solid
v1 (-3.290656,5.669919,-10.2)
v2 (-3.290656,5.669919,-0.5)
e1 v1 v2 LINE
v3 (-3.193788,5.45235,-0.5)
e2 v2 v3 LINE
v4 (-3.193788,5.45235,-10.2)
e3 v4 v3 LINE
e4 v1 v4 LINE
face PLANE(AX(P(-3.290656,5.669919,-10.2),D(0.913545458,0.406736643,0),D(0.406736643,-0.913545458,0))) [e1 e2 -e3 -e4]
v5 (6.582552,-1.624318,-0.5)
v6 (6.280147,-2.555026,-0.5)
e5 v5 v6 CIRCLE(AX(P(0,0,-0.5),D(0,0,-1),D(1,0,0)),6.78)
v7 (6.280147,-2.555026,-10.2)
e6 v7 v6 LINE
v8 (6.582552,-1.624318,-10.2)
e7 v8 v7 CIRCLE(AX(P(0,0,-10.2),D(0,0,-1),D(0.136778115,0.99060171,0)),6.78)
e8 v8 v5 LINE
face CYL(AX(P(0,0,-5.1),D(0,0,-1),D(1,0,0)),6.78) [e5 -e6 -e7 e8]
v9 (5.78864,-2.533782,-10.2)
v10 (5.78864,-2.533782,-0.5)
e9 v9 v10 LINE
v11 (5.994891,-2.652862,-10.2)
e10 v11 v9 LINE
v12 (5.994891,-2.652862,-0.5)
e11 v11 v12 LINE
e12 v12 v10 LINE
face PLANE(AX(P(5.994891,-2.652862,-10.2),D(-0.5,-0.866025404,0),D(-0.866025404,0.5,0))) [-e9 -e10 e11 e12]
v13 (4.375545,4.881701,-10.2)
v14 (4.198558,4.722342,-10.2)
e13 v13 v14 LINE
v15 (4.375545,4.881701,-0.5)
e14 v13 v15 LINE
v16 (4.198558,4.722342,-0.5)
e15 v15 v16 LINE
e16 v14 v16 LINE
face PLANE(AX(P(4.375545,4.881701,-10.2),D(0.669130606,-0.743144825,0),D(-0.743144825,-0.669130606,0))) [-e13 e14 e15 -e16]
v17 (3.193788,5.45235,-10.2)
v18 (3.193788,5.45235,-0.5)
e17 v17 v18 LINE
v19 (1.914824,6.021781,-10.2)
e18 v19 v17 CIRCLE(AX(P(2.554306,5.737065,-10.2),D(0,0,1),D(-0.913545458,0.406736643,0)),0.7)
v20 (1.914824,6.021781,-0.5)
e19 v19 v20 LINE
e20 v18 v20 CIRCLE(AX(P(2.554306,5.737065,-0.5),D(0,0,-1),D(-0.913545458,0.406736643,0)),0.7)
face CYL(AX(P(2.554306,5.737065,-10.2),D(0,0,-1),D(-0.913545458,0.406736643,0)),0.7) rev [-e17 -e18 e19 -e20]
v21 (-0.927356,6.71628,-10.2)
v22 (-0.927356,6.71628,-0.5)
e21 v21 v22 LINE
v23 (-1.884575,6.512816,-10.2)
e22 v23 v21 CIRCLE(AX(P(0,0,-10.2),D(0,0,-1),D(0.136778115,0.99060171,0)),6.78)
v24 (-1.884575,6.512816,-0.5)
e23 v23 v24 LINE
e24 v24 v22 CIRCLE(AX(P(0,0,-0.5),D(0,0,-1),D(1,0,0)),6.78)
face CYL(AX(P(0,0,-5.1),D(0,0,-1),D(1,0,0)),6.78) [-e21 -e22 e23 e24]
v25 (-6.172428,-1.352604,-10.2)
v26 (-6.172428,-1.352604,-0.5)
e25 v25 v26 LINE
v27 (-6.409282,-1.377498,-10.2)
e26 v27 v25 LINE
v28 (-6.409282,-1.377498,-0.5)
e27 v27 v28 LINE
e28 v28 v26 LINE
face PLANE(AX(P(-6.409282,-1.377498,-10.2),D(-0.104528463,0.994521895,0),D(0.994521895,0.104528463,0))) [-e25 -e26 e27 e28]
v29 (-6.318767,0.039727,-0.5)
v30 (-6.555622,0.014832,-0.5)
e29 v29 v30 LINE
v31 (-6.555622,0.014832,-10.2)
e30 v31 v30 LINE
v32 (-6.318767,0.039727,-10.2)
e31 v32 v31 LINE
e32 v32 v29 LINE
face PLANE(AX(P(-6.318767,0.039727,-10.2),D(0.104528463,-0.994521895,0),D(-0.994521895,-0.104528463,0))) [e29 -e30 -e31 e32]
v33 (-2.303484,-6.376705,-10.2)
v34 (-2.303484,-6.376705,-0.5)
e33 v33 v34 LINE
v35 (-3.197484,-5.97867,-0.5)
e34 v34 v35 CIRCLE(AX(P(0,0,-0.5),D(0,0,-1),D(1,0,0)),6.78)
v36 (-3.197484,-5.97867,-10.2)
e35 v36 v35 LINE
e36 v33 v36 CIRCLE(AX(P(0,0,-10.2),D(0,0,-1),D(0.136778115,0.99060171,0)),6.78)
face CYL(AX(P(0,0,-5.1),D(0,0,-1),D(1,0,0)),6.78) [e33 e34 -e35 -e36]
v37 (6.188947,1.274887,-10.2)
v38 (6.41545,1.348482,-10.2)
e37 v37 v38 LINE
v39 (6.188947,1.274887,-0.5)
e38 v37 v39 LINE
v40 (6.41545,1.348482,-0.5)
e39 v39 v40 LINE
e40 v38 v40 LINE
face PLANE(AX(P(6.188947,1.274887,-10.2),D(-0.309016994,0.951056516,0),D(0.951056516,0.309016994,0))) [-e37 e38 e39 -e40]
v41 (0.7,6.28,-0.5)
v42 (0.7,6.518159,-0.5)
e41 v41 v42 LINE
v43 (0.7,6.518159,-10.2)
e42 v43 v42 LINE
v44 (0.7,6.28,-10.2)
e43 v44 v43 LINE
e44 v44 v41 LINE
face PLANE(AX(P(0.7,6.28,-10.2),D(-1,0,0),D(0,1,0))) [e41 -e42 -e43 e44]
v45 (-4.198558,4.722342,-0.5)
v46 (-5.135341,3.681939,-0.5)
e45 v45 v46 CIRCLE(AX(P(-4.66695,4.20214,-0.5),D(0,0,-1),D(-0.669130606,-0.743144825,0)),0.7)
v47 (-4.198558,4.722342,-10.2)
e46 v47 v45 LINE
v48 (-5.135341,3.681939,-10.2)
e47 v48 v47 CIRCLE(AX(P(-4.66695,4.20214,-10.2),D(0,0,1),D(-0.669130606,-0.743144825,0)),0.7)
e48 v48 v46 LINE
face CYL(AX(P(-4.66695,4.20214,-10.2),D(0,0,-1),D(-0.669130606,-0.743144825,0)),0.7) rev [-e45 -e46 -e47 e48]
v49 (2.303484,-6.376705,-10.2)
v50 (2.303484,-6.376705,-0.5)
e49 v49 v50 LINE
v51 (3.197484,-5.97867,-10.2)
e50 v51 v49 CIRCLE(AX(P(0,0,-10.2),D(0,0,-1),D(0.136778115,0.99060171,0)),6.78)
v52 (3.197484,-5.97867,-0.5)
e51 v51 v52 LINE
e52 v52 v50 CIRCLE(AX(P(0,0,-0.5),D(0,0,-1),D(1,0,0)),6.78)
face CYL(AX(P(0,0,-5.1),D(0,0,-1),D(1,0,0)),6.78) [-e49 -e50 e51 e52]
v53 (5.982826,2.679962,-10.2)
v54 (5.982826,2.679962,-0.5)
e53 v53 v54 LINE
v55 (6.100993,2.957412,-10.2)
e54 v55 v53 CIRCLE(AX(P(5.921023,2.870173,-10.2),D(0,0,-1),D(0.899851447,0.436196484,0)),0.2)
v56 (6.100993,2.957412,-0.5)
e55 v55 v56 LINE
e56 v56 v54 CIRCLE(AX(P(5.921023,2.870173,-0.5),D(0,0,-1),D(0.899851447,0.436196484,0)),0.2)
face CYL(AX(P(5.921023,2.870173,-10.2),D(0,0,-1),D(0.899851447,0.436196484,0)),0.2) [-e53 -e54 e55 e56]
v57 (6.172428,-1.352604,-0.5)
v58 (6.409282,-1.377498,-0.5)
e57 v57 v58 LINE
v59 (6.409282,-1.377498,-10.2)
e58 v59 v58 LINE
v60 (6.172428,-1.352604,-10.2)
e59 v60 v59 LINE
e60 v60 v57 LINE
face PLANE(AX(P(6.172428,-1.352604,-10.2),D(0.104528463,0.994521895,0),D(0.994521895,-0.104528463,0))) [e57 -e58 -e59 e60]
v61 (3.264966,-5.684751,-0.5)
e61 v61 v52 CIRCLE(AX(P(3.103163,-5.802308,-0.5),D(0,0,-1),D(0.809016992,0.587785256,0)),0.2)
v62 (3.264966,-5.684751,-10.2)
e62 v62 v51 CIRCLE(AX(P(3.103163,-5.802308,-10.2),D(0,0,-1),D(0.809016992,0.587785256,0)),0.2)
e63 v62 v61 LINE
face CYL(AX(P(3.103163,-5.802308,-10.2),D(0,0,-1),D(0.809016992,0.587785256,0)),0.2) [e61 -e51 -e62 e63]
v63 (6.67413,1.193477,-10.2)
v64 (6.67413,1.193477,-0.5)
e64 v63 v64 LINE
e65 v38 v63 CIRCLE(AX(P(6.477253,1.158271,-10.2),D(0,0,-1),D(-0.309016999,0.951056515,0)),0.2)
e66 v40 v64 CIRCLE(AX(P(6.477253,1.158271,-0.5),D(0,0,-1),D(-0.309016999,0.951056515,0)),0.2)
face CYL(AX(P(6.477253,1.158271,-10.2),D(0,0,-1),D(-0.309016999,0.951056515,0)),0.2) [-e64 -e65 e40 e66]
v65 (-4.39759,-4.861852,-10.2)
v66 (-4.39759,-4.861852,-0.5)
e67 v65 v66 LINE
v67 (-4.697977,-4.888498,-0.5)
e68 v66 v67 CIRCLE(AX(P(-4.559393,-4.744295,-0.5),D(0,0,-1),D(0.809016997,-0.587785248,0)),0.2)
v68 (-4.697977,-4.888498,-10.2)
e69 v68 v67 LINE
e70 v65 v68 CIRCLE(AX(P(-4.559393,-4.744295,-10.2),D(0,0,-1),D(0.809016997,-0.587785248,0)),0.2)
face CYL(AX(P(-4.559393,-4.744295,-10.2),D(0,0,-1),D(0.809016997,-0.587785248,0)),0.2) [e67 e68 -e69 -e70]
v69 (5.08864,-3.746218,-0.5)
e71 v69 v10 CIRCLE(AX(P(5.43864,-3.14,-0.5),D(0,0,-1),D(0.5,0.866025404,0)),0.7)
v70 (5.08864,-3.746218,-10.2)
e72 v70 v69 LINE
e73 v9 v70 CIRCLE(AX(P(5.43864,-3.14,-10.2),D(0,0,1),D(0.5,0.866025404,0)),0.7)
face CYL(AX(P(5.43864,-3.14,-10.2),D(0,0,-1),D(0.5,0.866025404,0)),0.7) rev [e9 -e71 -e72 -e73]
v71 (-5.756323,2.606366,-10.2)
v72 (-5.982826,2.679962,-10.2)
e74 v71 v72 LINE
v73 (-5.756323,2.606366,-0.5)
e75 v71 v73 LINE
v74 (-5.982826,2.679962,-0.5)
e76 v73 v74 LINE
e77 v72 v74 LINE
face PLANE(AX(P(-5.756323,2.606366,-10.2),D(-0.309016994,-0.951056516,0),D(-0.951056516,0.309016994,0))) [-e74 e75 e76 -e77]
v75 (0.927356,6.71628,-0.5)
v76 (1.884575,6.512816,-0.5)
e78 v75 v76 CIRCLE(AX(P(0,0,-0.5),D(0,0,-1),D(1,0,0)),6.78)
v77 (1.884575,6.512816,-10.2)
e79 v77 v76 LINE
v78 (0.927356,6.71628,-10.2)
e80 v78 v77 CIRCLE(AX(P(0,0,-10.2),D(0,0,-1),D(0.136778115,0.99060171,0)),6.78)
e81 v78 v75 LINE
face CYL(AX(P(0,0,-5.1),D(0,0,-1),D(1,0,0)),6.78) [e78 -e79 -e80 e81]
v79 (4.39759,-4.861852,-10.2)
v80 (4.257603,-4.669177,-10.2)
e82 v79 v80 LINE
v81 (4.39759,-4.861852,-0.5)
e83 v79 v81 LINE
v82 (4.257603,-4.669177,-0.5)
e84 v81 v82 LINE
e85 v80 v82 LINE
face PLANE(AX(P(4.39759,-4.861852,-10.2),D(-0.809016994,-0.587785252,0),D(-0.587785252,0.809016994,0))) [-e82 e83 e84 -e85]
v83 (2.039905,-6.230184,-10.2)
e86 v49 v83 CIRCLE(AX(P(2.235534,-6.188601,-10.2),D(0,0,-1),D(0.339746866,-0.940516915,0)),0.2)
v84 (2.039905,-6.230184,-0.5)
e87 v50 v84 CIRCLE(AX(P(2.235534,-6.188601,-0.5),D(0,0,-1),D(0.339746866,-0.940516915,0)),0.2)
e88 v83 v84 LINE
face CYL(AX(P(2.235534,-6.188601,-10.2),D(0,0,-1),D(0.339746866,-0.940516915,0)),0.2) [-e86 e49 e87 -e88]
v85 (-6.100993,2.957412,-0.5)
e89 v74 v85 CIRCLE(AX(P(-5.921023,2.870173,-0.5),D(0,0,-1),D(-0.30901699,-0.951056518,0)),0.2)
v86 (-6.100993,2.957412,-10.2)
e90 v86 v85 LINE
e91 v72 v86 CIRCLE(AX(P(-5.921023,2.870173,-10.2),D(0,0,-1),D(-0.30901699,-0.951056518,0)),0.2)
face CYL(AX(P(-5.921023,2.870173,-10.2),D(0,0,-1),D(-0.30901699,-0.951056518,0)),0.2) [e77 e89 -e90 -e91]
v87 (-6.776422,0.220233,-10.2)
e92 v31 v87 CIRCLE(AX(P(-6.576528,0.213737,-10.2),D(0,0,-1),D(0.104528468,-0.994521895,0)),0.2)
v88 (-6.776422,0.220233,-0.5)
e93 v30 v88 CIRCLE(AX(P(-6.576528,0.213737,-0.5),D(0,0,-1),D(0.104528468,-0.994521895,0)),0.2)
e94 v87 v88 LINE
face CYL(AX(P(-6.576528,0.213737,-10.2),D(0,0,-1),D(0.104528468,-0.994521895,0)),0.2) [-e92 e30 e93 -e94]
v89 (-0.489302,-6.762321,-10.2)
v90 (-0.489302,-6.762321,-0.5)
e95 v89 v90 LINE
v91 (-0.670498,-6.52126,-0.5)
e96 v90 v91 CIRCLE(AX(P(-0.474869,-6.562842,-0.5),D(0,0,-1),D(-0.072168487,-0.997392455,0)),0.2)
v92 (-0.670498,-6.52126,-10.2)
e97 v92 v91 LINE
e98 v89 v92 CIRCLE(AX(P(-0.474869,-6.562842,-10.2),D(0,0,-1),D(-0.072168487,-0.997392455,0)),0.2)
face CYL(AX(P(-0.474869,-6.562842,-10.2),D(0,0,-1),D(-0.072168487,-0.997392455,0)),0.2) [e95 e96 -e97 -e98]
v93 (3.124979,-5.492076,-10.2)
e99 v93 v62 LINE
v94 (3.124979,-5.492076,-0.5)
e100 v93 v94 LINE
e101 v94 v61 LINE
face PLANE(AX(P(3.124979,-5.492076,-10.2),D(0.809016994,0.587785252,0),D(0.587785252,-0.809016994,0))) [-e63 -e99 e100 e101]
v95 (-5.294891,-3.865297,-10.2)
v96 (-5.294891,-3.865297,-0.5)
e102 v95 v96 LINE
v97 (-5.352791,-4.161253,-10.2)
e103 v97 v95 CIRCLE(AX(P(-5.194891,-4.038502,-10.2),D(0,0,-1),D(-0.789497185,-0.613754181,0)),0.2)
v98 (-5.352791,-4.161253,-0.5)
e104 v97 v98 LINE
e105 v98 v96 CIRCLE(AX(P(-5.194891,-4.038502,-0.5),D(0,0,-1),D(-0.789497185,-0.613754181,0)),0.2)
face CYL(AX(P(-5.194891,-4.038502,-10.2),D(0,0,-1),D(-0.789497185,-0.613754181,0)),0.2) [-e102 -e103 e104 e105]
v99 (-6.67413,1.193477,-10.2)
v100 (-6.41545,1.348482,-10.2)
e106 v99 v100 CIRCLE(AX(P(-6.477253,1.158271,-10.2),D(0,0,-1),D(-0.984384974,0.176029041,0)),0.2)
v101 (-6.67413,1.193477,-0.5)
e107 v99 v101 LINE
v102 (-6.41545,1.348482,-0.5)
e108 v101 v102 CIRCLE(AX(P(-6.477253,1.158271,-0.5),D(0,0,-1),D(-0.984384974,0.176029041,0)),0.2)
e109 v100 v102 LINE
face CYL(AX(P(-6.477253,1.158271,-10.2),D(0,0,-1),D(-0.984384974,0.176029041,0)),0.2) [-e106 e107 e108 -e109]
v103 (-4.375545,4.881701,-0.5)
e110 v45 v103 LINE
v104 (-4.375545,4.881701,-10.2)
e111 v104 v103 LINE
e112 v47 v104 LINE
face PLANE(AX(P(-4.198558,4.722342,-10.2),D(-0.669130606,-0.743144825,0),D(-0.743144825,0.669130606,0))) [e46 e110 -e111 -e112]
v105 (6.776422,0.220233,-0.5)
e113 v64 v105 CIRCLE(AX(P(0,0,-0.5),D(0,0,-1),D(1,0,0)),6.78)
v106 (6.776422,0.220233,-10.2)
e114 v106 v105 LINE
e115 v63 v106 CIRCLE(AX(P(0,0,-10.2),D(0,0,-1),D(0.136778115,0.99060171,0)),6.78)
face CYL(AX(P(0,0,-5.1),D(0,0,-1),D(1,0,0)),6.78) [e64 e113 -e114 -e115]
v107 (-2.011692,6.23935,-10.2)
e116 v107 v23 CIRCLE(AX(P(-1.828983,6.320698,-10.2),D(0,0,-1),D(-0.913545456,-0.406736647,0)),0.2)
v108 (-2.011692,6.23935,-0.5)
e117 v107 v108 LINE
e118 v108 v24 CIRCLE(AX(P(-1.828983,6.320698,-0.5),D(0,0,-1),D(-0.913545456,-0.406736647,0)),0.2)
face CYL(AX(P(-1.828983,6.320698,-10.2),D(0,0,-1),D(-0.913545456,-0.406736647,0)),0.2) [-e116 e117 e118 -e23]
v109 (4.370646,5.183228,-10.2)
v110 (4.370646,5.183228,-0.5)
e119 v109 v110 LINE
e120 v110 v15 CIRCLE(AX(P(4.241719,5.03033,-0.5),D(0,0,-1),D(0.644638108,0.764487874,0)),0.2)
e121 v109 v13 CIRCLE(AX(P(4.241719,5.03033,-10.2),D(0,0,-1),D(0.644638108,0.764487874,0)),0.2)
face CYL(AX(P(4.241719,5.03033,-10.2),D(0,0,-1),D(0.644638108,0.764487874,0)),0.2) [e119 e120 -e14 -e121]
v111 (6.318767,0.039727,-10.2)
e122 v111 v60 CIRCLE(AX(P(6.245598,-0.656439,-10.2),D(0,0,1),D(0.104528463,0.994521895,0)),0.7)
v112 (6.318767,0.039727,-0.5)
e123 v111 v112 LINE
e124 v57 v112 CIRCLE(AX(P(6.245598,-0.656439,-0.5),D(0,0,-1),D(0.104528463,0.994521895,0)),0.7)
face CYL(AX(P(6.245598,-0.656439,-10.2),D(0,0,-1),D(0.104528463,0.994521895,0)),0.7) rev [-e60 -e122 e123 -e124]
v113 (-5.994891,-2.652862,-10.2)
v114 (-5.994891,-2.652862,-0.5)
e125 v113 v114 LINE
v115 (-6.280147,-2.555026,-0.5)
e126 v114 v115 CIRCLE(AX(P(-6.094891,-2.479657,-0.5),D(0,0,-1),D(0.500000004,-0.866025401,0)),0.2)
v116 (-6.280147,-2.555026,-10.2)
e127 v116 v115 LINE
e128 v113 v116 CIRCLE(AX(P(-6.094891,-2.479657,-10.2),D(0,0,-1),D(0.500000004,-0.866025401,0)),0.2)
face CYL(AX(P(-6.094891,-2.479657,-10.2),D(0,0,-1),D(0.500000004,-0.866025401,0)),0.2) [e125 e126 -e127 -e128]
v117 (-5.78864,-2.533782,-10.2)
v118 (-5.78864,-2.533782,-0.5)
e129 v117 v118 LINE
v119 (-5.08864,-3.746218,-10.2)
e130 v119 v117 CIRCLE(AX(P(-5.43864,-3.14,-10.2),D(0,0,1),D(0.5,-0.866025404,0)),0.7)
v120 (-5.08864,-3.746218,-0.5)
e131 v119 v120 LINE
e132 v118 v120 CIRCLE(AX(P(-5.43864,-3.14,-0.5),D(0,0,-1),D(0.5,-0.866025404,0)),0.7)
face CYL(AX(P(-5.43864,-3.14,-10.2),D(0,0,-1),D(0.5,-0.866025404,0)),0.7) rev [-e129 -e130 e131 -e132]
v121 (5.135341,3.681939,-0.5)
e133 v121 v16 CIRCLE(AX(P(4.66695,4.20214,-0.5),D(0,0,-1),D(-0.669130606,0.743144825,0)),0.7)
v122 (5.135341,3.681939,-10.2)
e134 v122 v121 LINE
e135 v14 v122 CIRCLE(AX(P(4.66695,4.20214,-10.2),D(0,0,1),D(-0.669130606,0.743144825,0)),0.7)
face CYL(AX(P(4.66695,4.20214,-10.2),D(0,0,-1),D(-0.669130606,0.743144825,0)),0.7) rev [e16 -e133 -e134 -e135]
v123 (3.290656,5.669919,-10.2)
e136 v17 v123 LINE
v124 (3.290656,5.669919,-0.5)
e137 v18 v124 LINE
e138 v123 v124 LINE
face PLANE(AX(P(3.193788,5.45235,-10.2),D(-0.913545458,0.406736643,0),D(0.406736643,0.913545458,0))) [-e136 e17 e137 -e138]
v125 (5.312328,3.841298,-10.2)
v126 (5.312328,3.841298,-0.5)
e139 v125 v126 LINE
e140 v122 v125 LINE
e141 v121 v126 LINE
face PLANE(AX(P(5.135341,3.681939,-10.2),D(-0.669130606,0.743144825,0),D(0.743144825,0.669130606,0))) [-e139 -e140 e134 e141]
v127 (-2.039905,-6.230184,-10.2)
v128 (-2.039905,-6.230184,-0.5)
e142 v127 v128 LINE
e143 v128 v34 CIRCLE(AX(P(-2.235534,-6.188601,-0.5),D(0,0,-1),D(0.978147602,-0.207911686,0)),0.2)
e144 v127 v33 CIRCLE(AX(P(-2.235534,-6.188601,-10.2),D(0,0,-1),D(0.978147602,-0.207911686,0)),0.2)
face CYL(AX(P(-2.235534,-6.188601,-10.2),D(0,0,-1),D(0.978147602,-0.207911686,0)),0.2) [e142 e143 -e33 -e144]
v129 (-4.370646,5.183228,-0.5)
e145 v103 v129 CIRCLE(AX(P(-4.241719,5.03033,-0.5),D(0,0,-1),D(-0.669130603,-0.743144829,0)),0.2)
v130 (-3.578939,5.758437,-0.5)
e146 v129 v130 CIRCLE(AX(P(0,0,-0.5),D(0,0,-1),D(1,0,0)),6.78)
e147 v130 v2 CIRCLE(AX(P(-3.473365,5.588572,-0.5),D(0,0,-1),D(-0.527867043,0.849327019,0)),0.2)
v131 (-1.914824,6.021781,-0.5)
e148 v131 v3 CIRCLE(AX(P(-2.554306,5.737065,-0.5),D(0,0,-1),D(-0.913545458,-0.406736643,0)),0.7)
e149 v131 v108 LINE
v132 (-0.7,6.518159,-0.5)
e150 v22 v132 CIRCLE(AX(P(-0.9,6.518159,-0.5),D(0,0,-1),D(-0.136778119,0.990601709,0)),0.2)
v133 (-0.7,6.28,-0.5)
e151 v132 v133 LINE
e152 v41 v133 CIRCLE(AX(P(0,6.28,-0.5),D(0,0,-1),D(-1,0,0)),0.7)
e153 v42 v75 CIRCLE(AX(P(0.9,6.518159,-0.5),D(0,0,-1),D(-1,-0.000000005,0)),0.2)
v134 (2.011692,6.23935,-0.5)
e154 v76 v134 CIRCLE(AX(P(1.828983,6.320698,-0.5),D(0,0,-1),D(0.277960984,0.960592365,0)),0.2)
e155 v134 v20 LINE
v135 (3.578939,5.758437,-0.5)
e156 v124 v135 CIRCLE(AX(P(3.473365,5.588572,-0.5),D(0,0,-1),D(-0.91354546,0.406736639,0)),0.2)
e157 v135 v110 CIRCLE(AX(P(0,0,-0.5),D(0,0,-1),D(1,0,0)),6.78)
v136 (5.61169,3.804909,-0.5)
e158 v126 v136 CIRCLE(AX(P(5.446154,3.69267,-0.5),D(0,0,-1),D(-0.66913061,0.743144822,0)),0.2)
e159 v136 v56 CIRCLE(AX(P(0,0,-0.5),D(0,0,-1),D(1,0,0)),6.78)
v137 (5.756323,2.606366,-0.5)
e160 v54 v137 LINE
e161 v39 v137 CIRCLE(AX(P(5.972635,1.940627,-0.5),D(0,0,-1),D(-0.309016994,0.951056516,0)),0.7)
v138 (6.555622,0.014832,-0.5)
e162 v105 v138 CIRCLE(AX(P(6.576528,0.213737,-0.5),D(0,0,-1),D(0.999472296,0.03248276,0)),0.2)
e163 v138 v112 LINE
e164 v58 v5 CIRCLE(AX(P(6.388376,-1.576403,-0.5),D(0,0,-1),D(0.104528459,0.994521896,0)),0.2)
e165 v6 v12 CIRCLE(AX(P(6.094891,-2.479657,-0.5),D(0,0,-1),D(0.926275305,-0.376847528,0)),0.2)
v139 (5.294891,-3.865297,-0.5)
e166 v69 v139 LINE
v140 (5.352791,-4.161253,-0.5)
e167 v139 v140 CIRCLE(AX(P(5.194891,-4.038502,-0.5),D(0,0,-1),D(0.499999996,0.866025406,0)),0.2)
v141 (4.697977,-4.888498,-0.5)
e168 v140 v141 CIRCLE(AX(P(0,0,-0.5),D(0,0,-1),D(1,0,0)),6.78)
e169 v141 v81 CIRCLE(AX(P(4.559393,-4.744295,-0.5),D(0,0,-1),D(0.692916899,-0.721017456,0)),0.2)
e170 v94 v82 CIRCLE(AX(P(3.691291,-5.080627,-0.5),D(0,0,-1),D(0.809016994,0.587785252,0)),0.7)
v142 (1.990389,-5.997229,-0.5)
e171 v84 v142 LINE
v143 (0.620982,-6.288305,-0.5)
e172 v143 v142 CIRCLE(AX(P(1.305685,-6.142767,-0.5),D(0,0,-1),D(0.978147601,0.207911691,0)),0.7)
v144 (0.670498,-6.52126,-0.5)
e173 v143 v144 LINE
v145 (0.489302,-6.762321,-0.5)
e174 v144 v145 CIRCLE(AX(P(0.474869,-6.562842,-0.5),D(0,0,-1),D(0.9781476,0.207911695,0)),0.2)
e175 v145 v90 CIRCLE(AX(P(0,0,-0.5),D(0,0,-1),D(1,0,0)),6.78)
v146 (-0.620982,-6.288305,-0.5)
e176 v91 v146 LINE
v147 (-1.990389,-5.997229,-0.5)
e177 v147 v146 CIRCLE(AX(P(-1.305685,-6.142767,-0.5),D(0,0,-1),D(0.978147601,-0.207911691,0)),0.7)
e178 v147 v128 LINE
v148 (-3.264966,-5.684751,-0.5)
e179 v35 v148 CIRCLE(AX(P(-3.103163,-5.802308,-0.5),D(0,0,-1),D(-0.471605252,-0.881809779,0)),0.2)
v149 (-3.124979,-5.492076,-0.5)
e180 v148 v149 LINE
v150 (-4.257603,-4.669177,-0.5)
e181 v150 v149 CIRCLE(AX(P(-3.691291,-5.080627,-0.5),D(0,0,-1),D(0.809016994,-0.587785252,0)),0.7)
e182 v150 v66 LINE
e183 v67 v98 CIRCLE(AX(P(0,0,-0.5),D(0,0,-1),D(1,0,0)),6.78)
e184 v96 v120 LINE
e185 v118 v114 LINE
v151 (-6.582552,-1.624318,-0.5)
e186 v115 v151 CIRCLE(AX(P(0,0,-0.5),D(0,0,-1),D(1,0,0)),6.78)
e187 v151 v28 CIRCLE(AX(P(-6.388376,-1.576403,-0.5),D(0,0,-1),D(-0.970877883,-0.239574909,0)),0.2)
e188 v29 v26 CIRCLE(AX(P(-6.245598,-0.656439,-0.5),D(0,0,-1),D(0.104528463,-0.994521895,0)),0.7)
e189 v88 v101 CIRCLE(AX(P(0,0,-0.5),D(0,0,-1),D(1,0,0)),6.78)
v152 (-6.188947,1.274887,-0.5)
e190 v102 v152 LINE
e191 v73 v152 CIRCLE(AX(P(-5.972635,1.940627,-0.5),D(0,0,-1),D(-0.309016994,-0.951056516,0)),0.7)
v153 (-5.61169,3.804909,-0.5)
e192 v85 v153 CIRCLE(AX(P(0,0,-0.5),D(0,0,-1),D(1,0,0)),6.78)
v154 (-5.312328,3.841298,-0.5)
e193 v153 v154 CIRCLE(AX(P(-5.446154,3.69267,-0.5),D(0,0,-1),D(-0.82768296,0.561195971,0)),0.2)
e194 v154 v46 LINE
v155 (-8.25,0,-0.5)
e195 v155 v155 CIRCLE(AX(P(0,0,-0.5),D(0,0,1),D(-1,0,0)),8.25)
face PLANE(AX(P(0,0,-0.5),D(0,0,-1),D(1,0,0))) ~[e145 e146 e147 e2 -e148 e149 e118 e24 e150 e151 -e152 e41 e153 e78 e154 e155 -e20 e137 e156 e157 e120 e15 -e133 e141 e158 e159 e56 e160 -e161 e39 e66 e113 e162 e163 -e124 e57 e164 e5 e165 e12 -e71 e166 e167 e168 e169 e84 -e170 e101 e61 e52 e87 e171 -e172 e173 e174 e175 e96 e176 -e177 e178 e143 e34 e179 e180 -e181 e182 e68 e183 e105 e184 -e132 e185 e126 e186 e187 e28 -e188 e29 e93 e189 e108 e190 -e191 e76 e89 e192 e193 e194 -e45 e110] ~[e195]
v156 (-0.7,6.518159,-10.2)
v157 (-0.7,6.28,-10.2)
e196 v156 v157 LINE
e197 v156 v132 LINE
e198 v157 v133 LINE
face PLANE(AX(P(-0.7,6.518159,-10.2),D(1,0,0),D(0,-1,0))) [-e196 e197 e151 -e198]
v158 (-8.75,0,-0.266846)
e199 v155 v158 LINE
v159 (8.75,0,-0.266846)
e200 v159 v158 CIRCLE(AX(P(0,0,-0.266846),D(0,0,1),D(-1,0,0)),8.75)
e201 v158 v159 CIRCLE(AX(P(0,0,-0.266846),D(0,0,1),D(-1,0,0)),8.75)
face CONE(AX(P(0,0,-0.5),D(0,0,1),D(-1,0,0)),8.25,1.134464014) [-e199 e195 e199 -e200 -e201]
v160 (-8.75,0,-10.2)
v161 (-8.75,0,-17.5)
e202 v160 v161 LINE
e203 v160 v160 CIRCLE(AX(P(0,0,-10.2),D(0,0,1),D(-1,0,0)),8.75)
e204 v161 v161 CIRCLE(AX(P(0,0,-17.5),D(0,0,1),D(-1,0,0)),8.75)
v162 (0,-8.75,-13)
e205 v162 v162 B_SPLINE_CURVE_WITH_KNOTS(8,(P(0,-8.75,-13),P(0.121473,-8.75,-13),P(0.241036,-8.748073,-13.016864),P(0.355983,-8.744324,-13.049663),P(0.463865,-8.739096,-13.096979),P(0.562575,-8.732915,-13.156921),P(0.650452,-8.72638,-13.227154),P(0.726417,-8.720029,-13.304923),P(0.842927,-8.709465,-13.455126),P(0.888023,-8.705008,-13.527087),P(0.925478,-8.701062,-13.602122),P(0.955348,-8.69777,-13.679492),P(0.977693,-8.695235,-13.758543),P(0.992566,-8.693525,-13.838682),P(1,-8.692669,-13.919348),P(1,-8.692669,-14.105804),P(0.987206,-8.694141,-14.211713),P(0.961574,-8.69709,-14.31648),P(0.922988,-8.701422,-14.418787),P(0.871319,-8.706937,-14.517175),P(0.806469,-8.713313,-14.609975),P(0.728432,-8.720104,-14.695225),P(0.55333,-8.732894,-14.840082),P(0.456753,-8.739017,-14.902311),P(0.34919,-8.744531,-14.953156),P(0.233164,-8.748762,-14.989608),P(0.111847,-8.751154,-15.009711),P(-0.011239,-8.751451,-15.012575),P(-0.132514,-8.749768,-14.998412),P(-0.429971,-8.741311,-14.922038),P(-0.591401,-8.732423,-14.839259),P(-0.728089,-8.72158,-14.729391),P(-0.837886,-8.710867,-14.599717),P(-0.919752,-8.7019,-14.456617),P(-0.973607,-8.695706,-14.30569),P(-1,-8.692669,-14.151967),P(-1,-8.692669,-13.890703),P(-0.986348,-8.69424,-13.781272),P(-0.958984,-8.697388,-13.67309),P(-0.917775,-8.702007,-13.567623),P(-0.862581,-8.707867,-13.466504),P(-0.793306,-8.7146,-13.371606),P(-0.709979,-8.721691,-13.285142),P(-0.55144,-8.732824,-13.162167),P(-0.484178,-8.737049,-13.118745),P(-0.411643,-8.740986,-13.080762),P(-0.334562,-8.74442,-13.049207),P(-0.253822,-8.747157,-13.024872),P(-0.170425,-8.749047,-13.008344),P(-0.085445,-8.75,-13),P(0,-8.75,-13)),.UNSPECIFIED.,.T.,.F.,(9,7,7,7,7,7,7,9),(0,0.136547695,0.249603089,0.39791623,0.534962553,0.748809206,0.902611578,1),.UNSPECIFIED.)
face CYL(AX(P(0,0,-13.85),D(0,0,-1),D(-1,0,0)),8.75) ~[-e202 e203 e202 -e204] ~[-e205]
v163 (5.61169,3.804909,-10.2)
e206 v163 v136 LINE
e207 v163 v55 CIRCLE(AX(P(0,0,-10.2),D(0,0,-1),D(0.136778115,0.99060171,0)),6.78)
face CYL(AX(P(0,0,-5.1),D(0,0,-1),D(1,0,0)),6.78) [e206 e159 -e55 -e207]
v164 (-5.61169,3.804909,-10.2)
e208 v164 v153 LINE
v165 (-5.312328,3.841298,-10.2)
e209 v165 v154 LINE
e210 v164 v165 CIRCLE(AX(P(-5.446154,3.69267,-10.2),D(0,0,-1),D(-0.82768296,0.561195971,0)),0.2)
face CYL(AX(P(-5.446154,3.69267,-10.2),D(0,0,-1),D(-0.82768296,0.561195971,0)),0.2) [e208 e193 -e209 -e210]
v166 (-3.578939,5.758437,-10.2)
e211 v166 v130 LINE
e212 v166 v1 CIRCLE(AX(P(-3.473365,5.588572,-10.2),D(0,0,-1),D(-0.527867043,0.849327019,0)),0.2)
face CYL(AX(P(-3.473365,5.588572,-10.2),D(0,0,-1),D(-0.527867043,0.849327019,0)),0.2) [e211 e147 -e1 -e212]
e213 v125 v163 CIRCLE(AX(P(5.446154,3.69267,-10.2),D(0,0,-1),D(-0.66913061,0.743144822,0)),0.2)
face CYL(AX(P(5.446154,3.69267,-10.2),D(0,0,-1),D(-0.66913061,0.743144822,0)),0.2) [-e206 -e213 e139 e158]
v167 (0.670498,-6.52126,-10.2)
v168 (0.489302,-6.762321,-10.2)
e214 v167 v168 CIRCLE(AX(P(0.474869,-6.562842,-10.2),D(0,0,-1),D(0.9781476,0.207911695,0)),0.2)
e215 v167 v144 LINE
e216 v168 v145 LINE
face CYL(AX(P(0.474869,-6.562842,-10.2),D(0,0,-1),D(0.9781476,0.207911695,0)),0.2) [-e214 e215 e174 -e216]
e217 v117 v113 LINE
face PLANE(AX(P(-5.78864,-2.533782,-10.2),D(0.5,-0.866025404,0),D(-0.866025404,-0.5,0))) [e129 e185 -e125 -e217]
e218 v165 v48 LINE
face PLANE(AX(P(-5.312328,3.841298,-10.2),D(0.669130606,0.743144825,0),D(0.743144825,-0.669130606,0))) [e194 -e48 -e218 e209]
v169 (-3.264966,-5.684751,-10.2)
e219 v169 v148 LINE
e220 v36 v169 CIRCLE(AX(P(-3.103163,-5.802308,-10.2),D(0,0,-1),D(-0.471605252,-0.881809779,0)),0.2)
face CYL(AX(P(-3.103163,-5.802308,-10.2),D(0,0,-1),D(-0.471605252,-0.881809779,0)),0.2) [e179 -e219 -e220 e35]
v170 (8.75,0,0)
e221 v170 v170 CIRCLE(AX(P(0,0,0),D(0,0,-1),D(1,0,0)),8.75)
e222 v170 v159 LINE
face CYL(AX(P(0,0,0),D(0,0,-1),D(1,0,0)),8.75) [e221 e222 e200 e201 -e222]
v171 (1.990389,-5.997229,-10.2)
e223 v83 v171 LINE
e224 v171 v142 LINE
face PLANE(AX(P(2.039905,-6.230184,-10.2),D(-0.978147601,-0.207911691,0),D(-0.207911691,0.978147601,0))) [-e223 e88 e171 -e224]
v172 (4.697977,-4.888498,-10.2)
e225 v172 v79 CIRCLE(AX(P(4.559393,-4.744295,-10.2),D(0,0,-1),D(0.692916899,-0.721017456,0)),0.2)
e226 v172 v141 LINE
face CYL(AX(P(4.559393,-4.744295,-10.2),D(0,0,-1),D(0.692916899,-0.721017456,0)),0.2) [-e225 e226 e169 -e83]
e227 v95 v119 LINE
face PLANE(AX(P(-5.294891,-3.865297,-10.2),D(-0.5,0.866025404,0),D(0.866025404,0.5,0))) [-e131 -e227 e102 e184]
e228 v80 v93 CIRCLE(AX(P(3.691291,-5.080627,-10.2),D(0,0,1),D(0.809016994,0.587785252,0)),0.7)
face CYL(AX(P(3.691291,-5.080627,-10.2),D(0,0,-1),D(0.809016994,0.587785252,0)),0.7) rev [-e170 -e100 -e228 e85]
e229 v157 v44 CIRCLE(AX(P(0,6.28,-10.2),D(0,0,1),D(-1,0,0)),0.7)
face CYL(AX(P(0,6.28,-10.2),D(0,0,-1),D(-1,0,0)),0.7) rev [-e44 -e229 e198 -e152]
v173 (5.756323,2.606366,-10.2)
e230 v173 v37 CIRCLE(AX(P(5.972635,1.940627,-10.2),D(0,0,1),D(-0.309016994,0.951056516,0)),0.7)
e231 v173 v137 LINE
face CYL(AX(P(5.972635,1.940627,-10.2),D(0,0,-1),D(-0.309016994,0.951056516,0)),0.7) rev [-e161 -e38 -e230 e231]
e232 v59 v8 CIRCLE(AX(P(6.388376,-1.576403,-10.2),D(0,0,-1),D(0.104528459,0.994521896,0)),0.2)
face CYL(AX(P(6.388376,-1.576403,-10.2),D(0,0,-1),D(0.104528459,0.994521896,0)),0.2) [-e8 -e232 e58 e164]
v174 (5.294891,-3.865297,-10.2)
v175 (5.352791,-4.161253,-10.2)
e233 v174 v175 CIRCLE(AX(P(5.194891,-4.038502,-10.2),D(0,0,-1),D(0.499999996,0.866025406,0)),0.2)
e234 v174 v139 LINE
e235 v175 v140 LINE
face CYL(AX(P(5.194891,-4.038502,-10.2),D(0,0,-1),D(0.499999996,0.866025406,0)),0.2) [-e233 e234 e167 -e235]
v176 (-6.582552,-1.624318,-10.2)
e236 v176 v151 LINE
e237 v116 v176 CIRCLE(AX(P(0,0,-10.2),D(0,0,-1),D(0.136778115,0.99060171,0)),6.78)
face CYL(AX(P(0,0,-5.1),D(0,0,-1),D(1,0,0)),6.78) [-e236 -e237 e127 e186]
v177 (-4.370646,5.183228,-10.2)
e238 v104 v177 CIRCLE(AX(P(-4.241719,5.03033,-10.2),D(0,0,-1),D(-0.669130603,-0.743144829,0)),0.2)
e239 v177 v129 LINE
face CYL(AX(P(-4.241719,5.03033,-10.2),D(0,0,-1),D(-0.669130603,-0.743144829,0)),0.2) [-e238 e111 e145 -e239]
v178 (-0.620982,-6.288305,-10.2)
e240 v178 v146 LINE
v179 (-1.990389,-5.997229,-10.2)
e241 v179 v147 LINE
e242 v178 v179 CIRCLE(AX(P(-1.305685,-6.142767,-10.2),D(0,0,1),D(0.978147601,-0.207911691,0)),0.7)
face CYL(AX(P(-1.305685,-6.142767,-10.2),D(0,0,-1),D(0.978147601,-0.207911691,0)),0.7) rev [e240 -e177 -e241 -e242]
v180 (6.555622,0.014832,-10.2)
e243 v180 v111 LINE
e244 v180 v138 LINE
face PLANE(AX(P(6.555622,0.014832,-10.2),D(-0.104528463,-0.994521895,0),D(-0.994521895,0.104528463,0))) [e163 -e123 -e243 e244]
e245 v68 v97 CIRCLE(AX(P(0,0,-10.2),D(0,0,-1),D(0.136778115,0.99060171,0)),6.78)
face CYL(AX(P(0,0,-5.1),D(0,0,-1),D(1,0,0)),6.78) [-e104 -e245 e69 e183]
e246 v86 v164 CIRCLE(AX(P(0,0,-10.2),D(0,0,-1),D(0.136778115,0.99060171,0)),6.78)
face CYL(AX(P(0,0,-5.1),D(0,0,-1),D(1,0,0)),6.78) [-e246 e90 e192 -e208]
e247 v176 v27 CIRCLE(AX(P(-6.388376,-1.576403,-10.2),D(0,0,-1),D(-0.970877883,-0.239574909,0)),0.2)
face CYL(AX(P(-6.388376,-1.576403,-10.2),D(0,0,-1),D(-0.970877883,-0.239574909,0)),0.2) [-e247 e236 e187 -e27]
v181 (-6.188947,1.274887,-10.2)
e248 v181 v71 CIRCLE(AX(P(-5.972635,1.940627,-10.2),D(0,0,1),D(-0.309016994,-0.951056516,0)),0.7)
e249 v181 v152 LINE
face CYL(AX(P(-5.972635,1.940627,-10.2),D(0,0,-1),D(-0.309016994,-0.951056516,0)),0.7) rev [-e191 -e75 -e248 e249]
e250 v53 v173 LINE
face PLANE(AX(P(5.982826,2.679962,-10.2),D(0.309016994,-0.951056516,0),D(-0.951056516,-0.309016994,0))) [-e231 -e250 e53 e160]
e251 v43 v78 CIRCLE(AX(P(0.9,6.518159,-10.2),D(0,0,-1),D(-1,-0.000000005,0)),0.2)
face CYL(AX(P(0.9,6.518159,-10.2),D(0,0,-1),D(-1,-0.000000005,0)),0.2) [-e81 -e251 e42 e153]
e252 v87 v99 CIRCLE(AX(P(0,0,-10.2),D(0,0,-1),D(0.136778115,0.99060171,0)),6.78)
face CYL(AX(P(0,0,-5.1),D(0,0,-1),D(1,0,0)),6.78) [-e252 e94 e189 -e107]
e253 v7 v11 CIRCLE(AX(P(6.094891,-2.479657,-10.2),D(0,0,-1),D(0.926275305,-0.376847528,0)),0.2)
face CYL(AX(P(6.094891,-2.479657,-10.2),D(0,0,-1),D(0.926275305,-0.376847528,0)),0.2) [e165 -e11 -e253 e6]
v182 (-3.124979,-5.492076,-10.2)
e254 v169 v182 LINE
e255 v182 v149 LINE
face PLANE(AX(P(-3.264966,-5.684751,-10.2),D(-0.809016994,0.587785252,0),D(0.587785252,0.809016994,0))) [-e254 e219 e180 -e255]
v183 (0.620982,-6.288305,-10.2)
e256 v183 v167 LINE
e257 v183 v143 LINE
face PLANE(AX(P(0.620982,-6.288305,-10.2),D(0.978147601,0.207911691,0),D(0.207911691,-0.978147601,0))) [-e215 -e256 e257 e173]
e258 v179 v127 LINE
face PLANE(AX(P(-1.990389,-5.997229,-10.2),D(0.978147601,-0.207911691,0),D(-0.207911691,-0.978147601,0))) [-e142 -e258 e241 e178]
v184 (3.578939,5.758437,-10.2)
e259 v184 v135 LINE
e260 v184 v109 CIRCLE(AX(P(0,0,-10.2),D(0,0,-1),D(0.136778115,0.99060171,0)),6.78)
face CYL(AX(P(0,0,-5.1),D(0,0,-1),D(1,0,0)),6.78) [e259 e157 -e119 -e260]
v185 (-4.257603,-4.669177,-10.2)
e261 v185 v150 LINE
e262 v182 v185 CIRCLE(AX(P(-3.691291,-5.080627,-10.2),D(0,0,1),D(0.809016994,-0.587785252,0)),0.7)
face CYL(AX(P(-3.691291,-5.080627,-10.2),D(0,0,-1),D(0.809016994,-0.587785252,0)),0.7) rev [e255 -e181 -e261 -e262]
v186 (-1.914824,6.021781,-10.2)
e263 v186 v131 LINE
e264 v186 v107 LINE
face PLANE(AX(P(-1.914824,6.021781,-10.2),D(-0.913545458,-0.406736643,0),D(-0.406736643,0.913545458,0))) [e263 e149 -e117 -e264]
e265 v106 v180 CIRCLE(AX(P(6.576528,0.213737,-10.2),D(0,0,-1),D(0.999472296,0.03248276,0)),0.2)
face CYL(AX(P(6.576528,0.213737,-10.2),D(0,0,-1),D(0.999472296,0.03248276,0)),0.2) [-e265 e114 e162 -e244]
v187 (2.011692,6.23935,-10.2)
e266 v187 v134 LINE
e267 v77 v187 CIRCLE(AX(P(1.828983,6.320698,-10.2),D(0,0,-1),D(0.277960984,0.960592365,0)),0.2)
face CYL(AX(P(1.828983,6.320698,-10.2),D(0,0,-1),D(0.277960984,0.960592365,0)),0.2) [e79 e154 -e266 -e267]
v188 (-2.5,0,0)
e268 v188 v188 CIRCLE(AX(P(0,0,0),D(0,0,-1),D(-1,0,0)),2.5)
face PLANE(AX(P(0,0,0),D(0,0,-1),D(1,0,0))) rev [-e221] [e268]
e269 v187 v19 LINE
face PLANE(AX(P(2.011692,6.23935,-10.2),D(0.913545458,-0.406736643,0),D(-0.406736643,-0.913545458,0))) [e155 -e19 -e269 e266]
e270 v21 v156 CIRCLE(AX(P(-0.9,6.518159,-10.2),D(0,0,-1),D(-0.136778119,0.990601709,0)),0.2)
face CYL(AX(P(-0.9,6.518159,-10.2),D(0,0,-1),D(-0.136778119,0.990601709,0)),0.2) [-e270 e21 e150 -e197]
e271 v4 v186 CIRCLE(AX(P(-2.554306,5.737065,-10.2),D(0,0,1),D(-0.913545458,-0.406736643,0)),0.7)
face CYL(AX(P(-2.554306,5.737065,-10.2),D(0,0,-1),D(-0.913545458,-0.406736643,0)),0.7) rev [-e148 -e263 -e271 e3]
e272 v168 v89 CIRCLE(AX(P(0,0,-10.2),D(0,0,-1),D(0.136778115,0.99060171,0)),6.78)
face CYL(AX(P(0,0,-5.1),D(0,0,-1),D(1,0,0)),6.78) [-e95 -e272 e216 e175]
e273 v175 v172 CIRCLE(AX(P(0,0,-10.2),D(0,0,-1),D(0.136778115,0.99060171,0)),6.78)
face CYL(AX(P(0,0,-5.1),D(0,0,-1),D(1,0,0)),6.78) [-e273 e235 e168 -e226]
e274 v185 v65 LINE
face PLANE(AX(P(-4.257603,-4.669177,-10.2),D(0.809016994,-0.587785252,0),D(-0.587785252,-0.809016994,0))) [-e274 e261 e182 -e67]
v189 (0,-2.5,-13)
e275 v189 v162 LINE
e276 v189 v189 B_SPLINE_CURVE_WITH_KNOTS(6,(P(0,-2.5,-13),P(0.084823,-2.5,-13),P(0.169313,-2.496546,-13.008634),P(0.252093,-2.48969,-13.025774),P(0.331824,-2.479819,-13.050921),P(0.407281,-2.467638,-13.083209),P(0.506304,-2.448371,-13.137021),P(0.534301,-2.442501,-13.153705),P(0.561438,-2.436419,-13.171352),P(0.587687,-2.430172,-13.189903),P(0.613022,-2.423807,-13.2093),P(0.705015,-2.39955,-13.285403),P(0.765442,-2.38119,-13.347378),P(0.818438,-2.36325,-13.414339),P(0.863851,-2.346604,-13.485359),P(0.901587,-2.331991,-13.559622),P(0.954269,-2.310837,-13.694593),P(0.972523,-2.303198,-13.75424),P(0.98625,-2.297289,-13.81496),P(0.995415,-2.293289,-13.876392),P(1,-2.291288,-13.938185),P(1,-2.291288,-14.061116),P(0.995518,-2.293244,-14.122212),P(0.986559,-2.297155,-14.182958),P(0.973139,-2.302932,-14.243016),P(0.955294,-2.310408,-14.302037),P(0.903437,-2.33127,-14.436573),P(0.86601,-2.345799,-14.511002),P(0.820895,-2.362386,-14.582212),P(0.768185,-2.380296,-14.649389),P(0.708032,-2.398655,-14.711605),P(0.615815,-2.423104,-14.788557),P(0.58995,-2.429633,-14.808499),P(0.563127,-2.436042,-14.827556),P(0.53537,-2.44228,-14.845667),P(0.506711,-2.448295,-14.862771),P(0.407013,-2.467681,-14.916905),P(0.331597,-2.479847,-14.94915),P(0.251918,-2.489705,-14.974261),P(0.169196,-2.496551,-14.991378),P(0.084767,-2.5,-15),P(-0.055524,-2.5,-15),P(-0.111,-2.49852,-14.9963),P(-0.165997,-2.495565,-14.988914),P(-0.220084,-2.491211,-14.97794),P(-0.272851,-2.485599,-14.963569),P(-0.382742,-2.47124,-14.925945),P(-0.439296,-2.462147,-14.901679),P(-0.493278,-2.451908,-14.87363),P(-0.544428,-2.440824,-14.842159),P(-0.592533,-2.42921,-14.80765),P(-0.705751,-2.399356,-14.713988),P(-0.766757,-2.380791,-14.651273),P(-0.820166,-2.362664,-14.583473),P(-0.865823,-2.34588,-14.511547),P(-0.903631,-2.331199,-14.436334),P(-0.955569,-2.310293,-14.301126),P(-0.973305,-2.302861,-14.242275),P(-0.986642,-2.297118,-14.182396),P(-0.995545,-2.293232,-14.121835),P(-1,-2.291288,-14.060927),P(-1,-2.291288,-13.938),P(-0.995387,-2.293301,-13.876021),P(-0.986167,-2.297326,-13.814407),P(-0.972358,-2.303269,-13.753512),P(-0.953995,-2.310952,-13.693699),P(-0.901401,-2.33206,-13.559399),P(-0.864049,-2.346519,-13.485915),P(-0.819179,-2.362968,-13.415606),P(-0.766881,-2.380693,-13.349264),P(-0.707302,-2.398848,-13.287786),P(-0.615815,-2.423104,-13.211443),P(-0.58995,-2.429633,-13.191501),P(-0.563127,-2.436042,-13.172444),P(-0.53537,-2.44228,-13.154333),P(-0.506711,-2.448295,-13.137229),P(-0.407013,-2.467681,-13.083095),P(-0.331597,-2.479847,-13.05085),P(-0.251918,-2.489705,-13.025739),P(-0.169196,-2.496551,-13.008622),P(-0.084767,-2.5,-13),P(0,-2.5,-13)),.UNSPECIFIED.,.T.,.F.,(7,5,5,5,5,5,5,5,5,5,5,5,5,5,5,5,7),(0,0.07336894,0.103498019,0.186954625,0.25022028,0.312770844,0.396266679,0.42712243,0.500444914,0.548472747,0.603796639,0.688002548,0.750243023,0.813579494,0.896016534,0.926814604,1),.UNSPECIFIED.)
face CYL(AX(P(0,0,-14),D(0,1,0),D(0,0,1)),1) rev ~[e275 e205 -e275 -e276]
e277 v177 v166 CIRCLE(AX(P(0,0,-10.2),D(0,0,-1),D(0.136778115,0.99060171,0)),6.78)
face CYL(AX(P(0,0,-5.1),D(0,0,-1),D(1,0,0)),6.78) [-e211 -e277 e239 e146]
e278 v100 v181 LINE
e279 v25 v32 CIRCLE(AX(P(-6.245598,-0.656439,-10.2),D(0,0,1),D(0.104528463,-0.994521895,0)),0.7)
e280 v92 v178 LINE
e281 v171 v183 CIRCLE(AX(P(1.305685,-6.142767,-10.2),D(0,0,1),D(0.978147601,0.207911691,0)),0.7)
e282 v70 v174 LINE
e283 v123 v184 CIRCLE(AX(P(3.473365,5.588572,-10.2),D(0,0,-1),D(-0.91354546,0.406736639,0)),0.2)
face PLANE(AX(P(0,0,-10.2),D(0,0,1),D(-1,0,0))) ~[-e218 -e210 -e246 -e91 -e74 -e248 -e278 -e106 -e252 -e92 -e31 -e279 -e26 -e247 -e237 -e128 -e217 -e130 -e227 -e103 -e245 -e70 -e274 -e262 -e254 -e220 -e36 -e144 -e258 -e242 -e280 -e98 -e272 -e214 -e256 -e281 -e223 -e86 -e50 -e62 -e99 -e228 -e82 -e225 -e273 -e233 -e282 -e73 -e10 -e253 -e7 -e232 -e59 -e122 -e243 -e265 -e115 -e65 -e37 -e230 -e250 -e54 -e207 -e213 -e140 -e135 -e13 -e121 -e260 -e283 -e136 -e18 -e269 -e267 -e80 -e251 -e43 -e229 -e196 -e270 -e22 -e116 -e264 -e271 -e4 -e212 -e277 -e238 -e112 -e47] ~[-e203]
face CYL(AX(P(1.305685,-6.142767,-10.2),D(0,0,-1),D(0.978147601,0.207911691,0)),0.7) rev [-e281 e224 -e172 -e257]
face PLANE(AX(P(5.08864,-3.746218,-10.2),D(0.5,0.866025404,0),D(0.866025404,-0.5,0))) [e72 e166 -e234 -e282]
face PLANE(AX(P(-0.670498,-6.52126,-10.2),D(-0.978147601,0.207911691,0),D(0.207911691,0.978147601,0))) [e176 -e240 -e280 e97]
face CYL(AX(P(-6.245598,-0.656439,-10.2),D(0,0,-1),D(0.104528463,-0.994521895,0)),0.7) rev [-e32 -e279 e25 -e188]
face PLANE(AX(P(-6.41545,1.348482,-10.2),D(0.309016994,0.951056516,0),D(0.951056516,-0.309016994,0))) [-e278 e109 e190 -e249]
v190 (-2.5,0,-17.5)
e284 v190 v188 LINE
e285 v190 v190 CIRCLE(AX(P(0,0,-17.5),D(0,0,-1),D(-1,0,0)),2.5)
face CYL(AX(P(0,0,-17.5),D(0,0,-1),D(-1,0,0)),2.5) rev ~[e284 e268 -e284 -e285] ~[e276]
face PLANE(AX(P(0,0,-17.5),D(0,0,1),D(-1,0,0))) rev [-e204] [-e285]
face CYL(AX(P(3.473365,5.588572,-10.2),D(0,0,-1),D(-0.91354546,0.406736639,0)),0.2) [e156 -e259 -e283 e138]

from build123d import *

# Parameters (mm, degrees)
SKETCH5_W           = 10.2
SKETCH5_H           = 6.78
SKETCH16_W          = 7.3
SKETCH16_H          = 8.75
CUT_TOOTH_START     = -10.2
CUT_TOOTH_DEPTH     = 10.2
PATTERN_TOOTH_COUNT = 15
SKETCH_1_R          = 2.5
CUT_EXTRUDE_1_DEPTH = 20
SKETCH_2_R          = 1
CUT_EXTRUDE_2_DEPTH = 10


with BuildPart() as part:
    # Sketch5 → body (revolve)
    with BuildSketch(Plane(origin=(0, 0, 0), x_dir=(0, 0, -1), z_dir=(1, 0, 0)), mode=Mode.PRIVATE) as body_sk:
        with Locations((5.1, 3.39)):
            Rectangle(SKETCH5_W, SKETCH5_H)
    revolve(body_sk.sketch.rotate(Axis((0, 0, 0), (0, 0, -1)), 90), axis=Axis((0, 0, 0), (0, 0, -1)))

    # Sketch16 → body-hub (revolve)
    with BuildSketch(Plane(origin=(0, 0, 0), x_dir=(0, 0, -1), z_dir=(1, 0, 0)), mode=Mode.PRIVATE) as body_hub_sk:
        with Locations((13.85, 4.375)):
            Rectangle(SKETCH16_W, SKETCH16_H)
    revolve(body_hub_sk.sketch.rotate(Axis((0, 0, -17.5), (0, 0, 1)), 90), axis=Axis((0, 0, -17.5), (0, 0, 1)))

    # Sketch23 → cut-tooth (cut)
    with BuildSketch(Plane.XY.offset(CUT_TOOTH_START)):
        with BuildLine():
            Line((0.7, 6.28), (0.7, 6.518159249))
            ThreePointArc((0.7, 6.518159249), (0.768605793, 6.668942413), (0.927355623, 6.716279591))
            Line((0.927355623, 6.716279591), (0.927355623, 7.852559183))
            Line((0.927355623, 7.852559183), (-0.927355623, 7.852559183))
            Line((-0.927355623, 7.852559183), (-0.927355623, 6.716279591))
            ThreePointArc((-0.927355623, 6.716279591), (-0.768605793, 6.668942413), (-0.7, 6.518159249))
            Line((-0.7, 6.518159249), (-0.7, 6.28))
            ThreePointArc((-0.7, 6.28), (0, 5.58), (0.7, 6.28))
        make_face()
    cut_tooth = extrude(amount=CUT_TOOTH_DEPTH, mode=Mode.SUBTRACT)

    # pattern-tooth: cut-tooth ×15 about axis
    pattern_tooth_axis = Axis((0, 0, -10.2), (0, 0, 1))
    for i in range(1, PATTERN_TOOTH_COUNT):
        add(cut_tooth.rotate(pattern_tooth_axis, i * 360 / PATTERN_TOOTH_COUNT), mode=Mode.SUBTRACT)

    # Sketch25 → body-flange-front (revolve)
    with BuildSketch(Plane(origin=(0, 0, 0), x_dir=(0, 0, -1), z_dir=(1, 0, 0)), mode=Mode.PRIVATE) as body_flange_front_sk:
        Polygon((0.5, 3.392), (0, 3.392), (0, 6.964), (0, 8.75), (0.5, 8.75), (0.5, 6.964), align=None)
    revolve(body_flange_front_sk.sketch.rotate(Axis((0, 0, 0), (0, 0, -1)), 90), axis=Axis((0, 0, 0), (0, 0, -1)))

    # Sketch28 → body-flange-profile-front (revolve, cut)
    with BuildSketch(Plane(origin=(0, 0, 0), x_dir=(0, 0, -1), z_dir=(1, 0, 0)), mode=Mode.PRIVATE) as body_flange_profile_front_sk:
        Polygon((0.5, 8.75), (0.5, 8.25), (0.266846171, 8.75), align=None)
    revolve(body_flange_profile_front_sk.sketch.rotate(Axis((0, 0, -10.2), (0, 0, 1)), 90), axis=Axis((0, 0, -10.2), (0, 0, 1)), mode=Mode.SUBTRACT)

    # 草图1 → 切除-拉伸1 (cut)
    with BuildSketch(Plane(origin=(0, 0, -17.5), x_dir=(-1, 0, 0), z_dir=(0, 0, -1))):
        Circle(SKETCH_1_R)
    extrude(amount=-CUT_EXTRUDE_1_DEPTH, mode=Mode.SUBTRACT)

    # 草图2 → 切除-拉伸2 (cut)
    with BuildSketch(Plane(origin=(0, 0, 0), x_dir=(1, 0, 0), z_dir=(0, 1, 0))):
        with Locations(Location((0, 14, 0), (0, 0, 270))):
            Circle(SKETCH_2_R)
    extrude(amount=-CUT_EXTRUDE_2_DEPTH, mode=Mode.SUBTRACT)


solid = part.part
